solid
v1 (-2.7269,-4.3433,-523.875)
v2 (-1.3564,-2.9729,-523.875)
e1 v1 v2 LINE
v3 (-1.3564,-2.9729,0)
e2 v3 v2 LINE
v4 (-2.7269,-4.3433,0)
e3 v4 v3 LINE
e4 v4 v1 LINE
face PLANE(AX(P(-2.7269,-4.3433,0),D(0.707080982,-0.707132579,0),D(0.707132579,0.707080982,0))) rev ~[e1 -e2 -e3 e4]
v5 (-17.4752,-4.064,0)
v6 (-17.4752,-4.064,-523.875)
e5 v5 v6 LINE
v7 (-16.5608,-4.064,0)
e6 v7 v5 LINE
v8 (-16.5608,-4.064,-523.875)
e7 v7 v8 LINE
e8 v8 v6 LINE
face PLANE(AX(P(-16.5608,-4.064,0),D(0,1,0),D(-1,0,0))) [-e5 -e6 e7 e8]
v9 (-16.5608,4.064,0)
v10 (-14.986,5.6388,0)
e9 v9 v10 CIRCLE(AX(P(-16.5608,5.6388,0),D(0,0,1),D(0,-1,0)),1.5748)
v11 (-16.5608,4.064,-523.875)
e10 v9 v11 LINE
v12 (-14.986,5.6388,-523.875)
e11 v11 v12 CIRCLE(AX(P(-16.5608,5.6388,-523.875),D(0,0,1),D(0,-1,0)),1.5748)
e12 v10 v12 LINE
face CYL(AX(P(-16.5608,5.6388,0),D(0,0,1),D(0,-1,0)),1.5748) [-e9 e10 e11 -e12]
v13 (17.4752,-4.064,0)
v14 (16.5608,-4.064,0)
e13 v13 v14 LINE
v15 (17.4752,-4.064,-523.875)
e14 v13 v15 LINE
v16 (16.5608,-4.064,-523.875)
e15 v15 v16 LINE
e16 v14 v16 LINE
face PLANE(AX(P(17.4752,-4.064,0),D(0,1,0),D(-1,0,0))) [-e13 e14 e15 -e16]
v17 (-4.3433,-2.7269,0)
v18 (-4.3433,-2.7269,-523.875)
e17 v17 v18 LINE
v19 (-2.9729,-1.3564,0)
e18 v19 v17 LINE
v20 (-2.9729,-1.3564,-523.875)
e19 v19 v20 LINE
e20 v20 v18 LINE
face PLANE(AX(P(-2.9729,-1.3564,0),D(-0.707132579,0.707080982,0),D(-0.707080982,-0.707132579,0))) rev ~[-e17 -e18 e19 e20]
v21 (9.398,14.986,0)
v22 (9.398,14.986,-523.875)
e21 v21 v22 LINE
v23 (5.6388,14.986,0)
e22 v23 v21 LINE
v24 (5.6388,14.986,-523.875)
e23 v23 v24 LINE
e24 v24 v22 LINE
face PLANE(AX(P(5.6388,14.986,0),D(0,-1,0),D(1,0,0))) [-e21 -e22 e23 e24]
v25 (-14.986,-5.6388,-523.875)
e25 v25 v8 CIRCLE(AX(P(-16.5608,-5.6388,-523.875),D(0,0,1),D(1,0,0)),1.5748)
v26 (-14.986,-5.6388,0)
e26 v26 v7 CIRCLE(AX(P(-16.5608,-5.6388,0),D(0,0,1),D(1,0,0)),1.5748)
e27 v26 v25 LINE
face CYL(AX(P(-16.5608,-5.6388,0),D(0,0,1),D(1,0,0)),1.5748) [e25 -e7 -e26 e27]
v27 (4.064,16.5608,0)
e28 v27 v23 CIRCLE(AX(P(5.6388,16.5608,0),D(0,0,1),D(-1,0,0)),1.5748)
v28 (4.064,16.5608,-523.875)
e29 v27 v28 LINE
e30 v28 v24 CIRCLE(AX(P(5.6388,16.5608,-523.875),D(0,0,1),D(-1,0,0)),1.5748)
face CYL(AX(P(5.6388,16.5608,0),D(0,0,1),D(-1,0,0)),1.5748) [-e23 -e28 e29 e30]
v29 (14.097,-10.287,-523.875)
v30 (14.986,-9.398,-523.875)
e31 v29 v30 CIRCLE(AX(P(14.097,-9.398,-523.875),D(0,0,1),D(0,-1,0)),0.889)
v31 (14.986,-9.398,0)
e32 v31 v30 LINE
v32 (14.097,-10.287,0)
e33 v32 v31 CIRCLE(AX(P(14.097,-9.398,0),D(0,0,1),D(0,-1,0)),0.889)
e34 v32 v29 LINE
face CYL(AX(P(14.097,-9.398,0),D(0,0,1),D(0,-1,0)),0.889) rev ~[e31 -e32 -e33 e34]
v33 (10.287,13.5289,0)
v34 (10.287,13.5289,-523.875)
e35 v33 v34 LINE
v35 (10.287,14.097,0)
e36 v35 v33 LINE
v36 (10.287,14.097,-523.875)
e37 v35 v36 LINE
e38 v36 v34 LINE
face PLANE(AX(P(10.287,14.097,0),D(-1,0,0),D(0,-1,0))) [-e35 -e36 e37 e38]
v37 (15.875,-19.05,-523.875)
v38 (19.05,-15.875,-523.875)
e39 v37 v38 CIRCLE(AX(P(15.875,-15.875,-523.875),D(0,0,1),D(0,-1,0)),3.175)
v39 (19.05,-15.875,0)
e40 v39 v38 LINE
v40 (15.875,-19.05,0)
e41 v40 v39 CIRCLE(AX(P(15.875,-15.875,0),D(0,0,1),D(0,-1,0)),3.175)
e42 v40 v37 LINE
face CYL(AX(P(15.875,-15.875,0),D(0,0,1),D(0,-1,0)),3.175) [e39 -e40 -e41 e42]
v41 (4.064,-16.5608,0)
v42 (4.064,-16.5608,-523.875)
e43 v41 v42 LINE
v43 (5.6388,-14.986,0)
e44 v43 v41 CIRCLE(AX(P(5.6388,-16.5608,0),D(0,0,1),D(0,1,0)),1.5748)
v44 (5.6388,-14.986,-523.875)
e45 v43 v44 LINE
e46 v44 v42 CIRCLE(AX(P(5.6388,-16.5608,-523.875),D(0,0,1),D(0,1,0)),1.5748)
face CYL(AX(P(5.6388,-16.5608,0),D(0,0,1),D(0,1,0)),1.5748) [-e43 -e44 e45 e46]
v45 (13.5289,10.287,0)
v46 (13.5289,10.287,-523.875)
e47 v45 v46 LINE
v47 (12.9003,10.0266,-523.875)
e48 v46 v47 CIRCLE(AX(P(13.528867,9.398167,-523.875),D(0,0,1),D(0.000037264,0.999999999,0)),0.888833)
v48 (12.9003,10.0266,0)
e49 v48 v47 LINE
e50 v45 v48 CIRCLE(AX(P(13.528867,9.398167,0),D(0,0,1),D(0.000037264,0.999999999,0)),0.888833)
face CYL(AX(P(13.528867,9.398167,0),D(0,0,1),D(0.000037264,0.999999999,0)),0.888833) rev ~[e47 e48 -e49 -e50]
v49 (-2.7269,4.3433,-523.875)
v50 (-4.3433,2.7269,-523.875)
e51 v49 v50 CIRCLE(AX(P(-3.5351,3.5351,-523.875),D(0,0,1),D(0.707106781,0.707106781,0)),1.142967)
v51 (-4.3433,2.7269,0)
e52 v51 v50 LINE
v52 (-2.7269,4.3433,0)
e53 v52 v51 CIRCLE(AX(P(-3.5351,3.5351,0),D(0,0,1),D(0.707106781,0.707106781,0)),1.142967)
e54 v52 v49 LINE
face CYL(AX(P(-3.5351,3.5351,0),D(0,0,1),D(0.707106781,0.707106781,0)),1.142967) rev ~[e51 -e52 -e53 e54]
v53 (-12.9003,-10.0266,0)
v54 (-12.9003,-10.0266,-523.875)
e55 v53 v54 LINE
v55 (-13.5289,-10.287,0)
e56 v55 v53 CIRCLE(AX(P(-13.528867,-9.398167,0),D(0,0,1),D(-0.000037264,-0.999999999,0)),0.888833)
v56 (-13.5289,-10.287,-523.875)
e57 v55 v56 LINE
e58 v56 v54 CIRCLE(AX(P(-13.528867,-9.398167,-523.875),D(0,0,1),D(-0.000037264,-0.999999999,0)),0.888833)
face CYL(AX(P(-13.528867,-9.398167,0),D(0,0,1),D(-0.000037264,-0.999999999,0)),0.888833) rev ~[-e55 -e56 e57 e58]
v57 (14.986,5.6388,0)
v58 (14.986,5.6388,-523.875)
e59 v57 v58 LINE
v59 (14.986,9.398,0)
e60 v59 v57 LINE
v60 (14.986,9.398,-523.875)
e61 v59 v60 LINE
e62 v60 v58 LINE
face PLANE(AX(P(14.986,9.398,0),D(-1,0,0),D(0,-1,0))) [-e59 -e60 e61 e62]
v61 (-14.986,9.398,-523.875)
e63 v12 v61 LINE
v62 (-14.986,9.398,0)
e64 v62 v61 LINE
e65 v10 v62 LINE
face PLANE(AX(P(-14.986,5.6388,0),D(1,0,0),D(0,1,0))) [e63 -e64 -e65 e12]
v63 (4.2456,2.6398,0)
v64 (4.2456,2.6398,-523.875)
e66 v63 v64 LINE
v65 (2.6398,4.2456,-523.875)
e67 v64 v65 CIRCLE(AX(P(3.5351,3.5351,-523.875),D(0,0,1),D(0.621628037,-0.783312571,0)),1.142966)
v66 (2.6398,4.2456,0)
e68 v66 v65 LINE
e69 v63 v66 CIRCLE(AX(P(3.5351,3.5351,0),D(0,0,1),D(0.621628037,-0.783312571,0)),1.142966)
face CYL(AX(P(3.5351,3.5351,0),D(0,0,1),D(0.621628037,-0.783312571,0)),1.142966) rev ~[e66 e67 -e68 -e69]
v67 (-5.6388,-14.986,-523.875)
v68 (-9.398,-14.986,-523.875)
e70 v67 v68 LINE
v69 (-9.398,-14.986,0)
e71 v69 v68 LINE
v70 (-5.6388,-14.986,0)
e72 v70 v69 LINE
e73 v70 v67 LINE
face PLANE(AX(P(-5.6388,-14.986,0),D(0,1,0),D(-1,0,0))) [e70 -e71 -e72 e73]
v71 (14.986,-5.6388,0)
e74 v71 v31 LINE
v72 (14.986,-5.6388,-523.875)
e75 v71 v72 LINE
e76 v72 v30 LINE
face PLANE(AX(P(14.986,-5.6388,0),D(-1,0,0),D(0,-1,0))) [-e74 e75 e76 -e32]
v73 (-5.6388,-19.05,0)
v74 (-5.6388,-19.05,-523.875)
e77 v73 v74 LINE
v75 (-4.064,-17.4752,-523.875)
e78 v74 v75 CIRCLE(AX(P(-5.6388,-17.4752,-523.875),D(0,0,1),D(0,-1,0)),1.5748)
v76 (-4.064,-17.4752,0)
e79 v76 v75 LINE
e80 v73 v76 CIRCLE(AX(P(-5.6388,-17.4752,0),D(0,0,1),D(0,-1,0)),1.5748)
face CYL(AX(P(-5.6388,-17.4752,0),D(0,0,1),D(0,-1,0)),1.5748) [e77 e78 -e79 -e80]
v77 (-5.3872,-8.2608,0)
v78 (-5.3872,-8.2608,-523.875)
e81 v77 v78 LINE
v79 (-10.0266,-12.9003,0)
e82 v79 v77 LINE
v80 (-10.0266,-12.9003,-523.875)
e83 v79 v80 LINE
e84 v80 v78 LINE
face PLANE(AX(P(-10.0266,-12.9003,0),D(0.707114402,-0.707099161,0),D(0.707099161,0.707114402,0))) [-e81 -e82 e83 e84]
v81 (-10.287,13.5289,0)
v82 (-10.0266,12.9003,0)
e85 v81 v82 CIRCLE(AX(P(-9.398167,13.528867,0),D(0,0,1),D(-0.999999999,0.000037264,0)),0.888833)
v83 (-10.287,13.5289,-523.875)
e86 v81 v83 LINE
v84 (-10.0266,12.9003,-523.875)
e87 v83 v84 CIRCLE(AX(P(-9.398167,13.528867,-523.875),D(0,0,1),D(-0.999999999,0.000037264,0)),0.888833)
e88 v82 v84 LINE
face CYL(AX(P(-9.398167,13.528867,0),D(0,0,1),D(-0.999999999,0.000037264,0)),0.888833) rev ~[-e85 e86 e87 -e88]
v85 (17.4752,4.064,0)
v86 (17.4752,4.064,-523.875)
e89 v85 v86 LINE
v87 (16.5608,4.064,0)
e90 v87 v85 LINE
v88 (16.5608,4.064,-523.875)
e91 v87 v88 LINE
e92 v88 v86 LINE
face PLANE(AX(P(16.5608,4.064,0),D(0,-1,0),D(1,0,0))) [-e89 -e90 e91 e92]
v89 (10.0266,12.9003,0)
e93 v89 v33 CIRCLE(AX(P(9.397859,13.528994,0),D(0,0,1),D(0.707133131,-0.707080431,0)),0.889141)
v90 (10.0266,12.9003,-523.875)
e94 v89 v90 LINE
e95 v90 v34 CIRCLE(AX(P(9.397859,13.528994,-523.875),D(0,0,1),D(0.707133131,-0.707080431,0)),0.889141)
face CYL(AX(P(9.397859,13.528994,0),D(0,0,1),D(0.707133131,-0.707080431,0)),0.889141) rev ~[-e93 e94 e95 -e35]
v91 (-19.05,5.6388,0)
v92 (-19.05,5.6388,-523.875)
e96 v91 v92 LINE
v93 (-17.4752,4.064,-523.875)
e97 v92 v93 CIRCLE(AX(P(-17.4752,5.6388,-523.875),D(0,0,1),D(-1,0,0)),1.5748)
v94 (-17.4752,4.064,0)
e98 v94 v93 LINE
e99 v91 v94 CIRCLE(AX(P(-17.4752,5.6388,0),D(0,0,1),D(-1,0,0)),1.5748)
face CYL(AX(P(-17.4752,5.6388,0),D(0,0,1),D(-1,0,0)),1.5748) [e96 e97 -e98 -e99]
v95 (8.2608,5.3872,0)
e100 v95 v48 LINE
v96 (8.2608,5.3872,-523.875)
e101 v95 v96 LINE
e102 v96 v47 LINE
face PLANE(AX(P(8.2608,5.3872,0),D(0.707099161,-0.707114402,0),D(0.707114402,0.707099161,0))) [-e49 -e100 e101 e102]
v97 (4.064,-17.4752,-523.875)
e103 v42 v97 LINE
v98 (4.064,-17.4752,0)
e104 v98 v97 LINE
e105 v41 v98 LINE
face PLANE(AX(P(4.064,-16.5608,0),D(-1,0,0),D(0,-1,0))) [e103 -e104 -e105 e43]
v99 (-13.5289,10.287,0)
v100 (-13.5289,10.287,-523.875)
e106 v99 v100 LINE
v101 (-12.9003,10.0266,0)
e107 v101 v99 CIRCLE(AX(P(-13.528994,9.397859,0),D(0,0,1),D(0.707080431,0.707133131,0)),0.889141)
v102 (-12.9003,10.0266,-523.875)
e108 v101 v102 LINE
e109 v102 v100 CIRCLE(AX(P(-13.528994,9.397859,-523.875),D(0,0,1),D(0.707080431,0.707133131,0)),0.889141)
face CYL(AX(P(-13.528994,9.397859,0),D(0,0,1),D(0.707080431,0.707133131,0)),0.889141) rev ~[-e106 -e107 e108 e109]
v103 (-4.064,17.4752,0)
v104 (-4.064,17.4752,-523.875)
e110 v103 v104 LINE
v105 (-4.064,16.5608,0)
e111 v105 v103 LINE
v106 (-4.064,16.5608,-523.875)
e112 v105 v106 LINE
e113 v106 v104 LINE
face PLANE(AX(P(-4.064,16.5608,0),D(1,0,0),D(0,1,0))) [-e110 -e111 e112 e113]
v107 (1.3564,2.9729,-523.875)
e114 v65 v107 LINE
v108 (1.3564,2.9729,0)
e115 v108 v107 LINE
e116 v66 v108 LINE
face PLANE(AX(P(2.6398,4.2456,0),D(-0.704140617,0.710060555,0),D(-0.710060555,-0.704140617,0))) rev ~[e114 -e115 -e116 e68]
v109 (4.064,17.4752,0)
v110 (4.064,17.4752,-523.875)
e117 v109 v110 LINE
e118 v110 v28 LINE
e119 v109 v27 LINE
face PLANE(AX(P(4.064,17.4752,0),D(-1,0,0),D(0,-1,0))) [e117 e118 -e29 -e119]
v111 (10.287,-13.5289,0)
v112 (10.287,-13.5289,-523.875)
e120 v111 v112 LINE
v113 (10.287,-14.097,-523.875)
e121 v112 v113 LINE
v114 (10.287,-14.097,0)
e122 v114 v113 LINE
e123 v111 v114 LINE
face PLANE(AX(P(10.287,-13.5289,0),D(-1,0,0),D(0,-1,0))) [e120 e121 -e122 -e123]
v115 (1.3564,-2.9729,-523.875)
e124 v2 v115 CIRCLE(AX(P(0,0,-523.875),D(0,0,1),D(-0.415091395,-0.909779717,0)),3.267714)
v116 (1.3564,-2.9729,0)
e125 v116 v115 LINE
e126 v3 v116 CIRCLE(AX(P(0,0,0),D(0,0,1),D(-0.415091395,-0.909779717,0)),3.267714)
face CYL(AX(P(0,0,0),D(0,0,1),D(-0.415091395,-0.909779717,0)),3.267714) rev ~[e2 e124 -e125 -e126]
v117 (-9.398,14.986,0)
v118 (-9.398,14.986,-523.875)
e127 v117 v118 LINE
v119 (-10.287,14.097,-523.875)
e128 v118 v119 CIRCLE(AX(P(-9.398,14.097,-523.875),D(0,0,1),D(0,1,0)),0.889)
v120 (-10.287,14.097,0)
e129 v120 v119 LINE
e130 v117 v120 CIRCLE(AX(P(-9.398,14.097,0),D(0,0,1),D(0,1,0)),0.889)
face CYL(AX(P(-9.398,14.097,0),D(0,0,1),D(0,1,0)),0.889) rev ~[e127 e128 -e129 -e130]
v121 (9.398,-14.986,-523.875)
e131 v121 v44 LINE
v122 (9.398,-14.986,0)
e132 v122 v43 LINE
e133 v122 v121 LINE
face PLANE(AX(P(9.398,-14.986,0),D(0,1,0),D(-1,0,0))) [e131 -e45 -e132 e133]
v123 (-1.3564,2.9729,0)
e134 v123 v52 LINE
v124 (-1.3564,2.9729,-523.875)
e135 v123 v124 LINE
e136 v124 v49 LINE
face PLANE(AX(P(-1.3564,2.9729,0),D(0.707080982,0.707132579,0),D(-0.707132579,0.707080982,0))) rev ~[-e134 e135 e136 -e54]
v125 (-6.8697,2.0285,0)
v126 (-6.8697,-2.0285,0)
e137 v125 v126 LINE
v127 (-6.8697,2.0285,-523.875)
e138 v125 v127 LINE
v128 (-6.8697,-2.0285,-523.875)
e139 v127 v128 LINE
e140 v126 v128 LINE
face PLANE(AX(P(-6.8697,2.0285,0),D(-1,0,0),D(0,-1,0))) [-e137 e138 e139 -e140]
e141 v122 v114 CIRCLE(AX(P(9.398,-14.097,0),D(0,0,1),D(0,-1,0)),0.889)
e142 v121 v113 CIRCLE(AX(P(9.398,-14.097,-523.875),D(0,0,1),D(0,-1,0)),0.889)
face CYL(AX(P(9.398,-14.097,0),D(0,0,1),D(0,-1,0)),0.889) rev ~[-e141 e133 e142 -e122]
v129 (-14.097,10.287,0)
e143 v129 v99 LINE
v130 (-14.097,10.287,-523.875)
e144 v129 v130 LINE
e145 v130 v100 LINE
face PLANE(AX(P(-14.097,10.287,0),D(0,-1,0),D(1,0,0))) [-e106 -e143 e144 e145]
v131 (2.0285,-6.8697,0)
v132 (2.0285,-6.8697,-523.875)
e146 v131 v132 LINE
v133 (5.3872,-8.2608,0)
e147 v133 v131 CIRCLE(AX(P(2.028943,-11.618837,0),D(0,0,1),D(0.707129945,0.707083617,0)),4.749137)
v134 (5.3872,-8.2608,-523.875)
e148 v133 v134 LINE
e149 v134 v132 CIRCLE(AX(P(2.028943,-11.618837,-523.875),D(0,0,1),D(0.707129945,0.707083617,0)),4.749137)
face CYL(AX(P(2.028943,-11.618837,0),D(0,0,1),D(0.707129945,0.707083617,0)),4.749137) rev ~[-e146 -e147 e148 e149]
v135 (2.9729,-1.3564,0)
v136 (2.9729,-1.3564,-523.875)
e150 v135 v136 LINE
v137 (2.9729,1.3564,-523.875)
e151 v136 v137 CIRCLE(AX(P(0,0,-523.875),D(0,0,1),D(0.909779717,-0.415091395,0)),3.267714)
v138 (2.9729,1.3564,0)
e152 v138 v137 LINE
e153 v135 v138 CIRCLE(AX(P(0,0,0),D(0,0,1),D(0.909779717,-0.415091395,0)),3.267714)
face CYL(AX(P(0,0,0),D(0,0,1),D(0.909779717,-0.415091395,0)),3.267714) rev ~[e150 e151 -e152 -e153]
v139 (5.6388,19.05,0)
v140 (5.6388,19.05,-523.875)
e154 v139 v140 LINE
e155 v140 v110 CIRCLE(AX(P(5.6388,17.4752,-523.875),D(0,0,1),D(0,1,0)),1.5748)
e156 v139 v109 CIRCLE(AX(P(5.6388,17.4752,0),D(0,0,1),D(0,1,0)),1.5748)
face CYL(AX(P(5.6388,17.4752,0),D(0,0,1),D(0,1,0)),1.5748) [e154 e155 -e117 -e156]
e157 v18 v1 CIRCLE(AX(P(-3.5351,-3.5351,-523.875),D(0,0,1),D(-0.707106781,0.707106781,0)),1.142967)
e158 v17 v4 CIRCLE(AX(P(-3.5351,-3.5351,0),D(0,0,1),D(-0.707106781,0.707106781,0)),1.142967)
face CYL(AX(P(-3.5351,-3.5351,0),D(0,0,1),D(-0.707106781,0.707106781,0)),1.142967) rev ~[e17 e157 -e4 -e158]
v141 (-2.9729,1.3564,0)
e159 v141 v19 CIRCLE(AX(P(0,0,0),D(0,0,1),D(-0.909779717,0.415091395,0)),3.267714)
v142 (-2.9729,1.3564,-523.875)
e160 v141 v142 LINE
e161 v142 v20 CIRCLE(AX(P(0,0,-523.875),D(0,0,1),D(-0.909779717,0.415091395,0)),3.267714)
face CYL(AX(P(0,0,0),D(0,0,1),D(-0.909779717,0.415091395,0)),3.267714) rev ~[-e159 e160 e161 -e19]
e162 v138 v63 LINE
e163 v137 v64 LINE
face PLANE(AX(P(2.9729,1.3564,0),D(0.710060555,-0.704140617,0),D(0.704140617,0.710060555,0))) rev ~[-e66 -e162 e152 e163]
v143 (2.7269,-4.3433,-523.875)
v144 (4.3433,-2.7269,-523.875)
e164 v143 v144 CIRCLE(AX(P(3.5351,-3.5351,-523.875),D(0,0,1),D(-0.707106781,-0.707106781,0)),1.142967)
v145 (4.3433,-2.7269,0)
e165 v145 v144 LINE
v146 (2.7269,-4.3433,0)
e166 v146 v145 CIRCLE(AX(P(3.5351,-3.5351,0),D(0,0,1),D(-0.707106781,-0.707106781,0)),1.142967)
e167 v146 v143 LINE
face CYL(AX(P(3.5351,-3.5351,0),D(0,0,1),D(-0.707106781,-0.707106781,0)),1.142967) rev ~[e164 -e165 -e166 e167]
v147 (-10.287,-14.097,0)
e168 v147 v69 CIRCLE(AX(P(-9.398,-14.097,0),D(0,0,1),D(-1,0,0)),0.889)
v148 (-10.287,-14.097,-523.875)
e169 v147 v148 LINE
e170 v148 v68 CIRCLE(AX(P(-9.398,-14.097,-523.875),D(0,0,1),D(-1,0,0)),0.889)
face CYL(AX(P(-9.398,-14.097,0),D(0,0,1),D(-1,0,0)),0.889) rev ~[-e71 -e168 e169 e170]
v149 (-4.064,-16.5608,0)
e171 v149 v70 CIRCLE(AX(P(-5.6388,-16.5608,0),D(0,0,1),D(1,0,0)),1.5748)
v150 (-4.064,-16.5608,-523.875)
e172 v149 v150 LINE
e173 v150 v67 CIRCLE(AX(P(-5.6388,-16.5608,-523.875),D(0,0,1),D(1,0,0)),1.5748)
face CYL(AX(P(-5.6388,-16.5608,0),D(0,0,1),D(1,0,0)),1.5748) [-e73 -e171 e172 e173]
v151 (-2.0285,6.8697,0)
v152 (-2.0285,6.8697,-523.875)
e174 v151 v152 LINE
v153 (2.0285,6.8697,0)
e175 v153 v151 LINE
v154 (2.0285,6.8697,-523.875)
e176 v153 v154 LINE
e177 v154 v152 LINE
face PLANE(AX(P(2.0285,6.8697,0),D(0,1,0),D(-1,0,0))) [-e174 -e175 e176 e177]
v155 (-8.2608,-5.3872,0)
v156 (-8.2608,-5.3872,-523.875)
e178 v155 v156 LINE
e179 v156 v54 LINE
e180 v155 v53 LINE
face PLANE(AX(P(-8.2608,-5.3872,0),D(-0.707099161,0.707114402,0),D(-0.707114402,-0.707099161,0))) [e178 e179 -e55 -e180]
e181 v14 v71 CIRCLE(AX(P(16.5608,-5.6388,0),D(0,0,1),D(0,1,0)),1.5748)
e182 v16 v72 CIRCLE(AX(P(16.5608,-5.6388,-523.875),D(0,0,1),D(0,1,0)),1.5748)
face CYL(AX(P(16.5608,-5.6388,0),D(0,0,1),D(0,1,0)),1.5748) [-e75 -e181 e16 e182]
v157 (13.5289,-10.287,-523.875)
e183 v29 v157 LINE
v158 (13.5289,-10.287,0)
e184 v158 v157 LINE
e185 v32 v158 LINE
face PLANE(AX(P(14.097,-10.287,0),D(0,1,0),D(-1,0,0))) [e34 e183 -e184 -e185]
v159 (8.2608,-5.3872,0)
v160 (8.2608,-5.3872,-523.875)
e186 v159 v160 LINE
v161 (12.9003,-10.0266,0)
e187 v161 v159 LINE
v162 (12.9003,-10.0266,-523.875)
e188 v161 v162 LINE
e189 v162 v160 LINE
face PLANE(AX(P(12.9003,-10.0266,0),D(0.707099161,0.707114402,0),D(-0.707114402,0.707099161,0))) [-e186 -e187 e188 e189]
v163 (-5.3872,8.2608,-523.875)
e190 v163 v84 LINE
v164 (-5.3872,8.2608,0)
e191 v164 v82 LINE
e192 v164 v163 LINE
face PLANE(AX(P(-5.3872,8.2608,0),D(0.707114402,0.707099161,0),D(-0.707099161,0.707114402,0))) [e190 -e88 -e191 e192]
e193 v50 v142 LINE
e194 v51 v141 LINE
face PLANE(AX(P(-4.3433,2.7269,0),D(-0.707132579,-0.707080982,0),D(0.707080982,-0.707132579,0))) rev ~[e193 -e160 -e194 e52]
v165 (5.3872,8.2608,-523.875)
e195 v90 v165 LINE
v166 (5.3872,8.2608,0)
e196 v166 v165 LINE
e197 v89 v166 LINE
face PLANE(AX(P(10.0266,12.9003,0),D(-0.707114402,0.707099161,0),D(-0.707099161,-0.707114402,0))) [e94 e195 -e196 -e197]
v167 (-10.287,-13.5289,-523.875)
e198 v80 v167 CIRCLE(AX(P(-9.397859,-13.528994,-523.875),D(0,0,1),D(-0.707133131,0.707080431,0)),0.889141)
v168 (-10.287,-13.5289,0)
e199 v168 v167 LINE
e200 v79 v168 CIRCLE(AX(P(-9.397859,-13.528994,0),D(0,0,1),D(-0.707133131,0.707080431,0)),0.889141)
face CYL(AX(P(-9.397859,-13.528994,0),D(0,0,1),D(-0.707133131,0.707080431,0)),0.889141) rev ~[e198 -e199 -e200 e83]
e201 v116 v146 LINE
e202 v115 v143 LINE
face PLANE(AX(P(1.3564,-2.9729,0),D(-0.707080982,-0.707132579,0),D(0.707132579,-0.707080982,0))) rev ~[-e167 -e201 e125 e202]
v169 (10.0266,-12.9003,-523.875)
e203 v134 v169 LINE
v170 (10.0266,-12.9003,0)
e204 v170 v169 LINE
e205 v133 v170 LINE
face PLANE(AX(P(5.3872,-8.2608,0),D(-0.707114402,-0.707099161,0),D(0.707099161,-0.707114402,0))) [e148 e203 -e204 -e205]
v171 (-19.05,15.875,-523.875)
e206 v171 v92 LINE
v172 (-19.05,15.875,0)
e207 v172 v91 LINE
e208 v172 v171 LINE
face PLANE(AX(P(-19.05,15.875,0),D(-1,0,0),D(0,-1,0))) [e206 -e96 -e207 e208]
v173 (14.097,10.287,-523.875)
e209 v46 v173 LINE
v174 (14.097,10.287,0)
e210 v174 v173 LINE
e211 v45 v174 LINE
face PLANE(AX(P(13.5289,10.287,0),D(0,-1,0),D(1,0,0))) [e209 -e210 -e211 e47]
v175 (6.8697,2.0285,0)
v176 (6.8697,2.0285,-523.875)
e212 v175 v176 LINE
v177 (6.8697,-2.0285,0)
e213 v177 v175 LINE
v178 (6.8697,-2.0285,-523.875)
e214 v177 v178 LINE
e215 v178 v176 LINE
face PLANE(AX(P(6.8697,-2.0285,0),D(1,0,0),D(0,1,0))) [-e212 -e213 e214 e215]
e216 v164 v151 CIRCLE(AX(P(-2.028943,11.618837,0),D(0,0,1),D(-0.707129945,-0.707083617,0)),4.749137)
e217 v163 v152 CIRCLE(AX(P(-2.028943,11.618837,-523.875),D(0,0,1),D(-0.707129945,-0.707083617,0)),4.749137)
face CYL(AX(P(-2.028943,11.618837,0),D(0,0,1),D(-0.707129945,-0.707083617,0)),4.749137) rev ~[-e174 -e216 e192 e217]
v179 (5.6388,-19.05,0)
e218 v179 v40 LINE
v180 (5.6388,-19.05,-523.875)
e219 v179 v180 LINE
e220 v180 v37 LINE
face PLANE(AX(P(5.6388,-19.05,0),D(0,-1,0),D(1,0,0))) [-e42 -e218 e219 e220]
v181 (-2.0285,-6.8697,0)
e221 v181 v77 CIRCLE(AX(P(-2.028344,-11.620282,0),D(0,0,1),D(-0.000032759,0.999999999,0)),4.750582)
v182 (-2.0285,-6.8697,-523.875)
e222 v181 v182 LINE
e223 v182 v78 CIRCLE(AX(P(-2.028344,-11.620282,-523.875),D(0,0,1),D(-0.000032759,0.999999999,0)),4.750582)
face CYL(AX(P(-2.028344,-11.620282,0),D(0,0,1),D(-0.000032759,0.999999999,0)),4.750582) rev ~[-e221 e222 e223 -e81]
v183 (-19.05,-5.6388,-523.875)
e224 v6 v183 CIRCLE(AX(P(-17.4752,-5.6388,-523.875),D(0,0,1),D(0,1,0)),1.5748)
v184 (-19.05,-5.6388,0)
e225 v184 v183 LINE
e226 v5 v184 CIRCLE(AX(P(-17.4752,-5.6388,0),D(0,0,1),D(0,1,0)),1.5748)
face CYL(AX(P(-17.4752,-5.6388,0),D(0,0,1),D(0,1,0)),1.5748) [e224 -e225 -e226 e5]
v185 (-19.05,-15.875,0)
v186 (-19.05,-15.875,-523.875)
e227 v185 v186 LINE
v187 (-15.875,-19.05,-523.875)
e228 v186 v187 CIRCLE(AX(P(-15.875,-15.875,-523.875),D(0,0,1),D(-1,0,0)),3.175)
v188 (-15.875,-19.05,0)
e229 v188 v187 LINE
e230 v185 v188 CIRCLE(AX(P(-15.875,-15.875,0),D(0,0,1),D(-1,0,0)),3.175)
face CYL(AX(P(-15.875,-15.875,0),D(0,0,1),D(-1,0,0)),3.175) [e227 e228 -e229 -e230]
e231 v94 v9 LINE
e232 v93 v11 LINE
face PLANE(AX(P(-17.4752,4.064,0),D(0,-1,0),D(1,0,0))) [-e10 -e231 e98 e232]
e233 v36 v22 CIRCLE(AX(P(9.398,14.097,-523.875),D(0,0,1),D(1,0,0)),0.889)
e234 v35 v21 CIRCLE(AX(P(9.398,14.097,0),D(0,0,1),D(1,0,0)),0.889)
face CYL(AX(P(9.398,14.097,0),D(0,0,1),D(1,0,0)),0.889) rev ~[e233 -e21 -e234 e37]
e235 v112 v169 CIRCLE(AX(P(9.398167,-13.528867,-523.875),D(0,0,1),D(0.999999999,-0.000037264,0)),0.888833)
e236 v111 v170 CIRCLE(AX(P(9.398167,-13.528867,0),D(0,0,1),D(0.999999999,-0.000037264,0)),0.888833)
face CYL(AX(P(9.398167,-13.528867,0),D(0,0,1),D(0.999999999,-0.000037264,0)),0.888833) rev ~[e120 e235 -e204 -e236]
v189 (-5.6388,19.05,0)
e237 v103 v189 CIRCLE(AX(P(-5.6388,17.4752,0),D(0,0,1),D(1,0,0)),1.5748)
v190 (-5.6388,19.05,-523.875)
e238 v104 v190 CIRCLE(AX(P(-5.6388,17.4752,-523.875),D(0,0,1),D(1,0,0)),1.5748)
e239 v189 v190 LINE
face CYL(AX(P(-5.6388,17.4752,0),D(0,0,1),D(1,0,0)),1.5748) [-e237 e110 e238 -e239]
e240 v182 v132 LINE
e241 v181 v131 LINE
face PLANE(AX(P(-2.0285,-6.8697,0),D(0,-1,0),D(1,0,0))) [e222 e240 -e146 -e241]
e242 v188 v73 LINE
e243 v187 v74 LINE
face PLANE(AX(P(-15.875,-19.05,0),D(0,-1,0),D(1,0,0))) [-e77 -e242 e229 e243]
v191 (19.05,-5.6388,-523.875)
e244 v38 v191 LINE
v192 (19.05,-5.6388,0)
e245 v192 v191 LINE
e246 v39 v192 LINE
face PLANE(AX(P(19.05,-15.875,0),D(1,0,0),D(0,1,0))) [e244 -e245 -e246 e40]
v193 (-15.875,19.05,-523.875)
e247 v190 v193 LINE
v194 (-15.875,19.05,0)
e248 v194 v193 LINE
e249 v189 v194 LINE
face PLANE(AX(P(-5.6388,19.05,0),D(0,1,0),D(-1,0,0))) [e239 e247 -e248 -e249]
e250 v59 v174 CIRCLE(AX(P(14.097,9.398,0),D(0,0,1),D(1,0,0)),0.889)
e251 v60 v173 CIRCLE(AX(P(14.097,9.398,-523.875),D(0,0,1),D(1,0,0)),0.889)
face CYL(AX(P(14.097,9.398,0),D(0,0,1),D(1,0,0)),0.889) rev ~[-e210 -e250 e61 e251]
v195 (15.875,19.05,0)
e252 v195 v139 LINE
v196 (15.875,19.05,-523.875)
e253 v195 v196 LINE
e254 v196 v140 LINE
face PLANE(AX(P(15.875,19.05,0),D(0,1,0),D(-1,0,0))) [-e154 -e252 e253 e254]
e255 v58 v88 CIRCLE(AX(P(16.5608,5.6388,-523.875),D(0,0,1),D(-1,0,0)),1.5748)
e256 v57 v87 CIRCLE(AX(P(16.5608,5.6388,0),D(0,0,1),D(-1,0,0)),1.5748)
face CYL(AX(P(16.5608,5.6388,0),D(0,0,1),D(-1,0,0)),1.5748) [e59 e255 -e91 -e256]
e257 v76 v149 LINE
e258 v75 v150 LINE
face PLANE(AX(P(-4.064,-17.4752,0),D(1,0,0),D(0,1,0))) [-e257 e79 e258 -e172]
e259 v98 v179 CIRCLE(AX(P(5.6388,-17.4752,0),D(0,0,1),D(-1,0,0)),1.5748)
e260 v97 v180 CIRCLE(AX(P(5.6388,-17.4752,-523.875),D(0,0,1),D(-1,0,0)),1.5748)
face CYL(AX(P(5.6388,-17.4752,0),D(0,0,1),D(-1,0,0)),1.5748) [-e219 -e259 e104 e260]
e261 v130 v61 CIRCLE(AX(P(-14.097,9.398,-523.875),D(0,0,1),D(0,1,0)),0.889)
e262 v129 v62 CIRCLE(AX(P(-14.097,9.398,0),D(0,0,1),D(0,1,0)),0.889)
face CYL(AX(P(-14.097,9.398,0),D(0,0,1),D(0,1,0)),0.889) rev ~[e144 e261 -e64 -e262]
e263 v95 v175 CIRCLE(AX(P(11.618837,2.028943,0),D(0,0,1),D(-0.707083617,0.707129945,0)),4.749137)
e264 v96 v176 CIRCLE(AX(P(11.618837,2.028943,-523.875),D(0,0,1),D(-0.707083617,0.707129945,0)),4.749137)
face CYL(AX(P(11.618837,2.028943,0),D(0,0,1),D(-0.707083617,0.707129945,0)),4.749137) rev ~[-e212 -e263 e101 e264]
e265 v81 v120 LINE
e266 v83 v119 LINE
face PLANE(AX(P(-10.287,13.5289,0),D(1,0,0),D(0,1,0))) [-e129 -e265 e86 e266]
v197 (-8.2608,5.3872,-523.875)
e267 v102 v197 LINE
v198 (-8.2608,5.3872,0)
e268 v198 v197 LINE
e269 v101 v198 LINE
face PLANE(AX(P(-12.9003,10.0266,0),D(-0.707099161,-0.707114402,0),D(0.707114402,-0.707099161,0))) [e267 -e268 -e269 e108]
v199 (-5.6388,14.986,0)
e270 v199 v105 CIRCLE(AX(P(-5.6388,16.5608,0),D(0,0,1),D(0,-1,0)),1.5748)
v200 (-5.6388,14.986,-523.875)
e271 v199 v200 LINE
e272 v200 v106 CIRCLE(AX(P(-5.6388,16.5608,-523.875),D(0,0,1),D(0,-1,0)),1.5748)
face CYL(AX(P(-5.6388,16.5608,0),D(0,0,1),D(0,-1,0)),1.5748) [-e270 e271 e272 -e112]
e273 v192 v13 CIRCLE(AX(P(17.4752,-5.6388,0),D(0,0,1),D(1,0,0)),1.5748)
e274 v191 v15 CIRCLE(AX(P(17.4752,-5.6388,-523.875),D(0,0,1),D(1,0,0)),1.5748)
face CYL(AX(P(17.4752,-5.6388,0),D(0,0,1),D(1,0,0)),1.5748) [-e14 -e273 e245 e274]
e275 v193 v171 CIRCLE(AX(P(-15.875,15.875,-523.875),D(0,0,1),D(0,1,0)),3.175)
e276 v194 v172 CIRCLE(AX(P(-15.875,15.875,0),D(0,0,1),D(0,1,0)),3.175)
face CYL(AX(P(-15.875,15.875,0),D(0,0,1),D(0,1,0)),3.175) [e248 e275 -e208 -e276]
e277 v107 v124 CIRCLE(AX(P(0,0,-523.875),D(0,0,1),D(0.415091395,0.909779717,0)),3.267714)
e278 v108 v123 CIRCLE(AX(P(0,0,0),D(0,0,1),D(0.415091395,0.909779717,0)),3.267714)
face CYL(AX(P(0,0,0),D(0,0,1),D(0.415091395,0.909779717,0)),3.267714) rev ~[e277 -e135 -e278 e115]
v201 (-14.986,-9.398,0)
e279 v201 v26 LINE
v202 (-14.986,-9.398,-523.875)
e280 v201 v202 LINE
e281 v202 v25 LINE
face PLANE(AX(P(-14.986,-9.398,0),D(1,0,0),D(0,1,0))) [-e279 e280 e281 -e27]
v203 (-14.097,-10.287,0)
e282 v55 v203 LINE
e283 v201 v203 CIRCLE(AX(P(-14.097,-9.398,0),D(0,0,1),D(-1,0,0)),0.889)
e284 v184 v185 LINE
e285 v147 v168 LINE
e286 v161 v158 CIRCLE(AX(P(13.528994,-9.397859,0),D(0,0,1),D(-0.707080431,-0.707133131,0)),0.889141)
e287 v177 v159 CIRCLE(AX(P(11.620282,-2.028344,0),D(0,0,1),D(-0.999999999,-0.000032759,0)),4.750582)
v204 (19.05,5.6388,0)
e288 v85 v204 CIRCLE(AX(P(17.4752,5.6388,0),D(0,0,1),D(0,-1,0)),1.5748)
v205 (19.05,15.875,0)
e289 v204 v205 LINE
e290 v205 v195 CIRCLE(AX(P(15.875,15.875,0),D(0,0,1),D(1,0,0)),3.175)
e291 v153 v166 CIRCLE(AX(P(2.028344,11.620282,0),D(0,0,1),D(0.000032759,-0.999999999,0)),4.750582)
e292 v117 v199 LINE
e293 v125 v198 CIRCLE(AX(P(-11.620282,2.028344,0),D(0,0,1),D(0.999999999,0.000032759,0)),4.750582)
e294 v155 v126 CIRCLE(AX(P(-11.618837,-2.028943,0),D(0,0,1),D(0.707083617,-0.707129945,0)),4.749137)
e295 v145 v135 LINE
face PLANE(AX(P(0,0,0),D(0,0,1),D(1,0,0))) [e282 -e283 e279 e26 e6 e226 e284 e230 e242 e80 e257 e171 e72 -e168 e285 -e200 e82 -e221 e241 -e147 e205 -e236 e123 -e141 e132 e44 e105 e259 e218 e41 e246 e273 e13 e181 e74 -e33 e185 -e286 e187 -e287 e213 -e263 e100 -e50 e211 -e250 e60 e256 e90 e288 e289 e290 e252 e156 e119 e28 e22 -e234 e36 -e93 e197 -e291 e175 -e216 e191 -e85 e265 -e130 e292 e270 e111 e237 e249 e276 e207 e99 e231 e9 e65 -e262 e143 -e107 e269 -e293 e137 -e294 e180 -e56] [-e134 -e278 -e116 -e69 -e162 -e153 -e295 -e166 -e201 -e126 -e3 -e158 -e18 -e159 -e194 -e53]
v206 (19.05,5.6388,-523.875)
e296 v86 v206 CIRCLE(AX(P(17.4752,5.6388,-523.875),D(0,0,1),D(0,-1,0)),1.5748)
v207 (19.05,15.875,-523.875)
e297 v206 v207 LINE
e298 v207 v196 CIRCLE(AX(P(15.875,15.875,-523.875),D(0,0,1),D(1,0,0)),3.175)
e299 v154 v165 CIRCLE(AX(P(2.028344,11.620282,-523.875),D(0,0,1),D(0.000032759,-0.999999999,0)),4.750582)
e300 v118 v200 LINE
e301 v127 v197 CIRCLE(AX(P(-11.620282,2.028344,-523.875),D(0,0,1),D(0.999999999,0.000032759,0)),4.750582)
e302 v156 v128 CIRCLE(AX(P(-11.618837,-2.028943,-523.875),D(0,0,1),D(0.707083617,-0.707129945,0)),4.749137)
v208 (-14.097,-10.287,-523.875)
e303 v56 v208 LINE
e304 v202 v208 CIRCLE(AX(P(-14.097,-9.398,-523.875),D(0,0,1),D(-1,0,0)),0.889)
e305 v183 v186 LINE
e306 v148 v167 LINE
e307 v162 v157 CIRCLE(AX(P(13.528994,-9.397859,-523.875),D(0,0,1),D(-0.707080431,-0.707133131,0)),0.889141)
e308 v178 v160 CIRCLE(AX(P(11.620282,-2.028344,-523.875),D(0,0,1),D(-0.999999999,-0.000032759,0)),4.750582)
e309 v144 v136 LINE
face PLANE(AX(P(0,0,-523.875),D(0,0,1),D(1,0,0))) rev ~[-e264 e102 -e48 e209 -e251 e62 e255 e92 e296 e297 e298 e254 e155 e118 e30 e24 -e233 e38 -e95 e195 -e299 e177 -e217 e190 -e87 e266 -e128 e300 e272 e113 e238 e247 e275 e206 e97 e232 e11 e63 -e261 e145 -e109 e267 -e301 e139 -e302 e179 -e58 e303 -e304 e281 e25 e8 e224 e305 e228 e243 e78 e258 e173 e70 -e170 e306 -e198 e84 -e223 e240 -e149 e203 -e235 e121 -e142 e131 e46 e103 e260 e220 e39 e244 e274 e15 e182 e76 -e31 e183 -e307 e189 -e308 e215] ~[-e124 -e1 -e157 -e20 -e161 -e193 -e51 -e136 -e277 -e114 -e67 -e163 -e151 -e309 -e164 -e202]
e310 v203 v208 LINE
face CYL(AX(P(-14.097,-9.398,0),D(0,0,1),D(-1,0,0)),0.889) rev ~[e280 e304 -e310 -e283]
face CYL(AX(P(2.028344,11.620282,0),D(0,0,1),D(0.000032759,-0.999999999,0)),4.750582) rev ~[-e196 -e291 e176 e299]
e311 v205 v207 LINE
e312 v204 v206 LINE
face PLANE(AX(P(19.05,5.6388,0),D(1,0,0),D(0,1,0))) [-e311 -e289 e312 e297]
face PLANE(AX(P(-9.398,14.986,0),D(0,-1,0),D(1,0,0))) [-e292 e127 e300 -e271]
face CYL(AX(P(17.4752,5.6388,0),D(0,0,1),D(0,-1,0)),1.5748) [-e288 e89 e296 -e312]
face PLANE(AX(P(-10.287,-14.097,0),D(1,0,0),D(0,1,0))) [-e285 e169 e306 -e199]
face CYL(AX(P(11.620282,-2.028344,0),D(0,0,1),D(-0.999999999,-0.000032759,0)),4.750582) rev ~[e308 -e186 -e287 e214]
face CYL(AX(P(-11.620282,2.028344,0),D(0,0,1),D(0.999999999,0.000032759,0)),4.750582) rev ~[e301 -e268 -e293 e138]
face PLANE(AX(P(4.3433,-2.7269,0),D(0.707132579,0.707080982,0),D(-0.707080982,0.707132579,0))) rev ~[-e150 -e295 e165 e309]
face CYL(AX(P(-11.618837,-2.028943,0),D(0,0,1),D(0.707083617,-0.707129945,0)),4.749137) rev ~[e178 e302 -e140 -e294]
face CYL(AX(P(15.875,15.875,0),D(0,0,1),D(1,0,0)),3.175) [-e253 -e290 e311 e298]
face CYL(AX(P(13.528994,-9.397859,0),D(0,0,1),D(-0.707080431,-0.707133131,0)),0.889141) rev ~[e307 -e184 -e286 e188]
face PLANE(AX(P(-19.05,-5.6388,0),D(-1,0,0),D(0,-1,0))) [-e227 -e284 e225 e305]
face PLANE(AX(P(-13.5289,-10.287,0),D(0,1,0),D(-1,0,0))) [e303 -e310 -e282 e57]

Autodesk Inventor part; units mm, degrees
ref_plane "YZ Plane" through (0, 0, 0) normal (1, 0, 0) x (0, 1, 0)
ref_plane "XZ Plane" through (0, 0, 0) normal (0, 1, 0) x (-1, 0, 0)
ref_plane "Work Plane1" through (-293.8098, -15.875, -838.2) normal (0, 0, 1) x (1, 0, 0)
sketch "Sketch1" plane through (0, 0, 0) normal (0, 0, 1) x (1, 0, 0)
  arc A0 (4.2456, 2.6398) -> (2.6398, 4.2456) centre (3.5351, 3.5351) ccw
  line L0 (2.9729, 1.3564) -> (4.2456, 2.6398)
  arc A1 (2.9729, -1.3564) -> (2.9729, 1.3564) centre (0, 0) ccw
  line L1 (4.3433, -2.7269) -> (2.9729, -1.3564)
  arc A2 (2.7269, -4.3433) -> (4.3433, -2.7269) centre (3.5351, -3.5351) ccw
  line L2 (1.3564, -2.9729) -> (2.7269, -4.3433)
  arc A3 (-1.3564, -2.9729) -> (1.3564, -2.9729) centre (0, 0) ccw
  line L3 (-2.7269, -4.3433) -> (-1.3564, -2.9729)
  arc A4 (-4.3433, -2.7269) -> (-2.7269, -4.3433) centre (-3.5351, -3.5351) ccw
  line L4 (-2.9729, -1.3564) -> (-4.3433, -2.7269)
  arc A5 (-2.9729, 1.3564) -> (-2.9729, -1.3564) centre (0, 0) ccw
  line L5 (-4.3433, 2.7269) -> (-2.9729, 1.3564)
  arc A6 (-2.7269, 4.3433) -> (-4.3433, 2.7269) centre (-3.5351, 3.5351) ccw
  line L6 (-1.3564, 2.9729) -> (-2.7269, 4.3433)
  arc A7 (1.3564, 2.9729) -> (-1.3564, 2.9729) centre (0, 0) ccw
  line L7 (2.6398, 4.2456) -> (1.3564, 2.9729)
  arc A8 (16.5608, -4.064) -> (14.986, -5.6388) centre (16.5608, -5.6388) ccw
  line L8 (14.986, -5.6388) -> (14.986, -9.398)
  arc A9 (14.097, -10.287) -> (14.986, -9.398) centre (14.097, -9.398) ccw
  line L9 (14.097, -10.287) -> (13.5289, -10.287)
  arc A10 (12.9003, -10.0266) -> (13.5289, -10.287) centre (13.5289, -9.398) ccw
  line L10 (12.9003, -10.0266) -> (8.2608, -5.3872)
  arc A11 (6.8697, -2.0285) -> (8.2608, -5.3872) centre (11.6195, -2.0285) ccw
  line L11 (6.8697, -2.0285) -> (6.8697, 2.0285)
  arc A12 (8.2608, 5.3872) -> (6.8697, 2.0285) centre (11.6195, 2.0285) ccw
  line L12 (8.2608, 5.3872) -> (12.9003, 10.0266)
  arc A13 (13.5289, 10.287) -> (12.9003, 10.0266) centre (13.5289, 9.398) ccw
  line L13 (13.5289, 10.287) -> (14.097, 10.287)
  arc A14 (14.986, 9.398) -> (14.097, 10.287) centre (14.097, 9.398) ccw
  line L14 (14.986, 9.398) -> (14.986, 5.6388)
  arc A15 (14.986, 5.6388) -> (16.5608, 4.064) centre (16.5608, 5.6388) ccw
  line L15 (16.5608, 4.064) -> (17.4752, 4.064)
  arc A16 (17.4752, 4.064) -> (19.05, 5.6388) centre (17.4752, 5.6388) ccw
  line L16 (19.05, 5.6388) -> (19.05, 15.875)
  arc A17 (19.05, 15.875) -> (15.875, 19.05) centre (15.875, 15.875) ccw
  line L17 (15.875, 19.05) -> (5.6388, 19.05)
  arc A18 (5.6388, 19.05) -> (4.064, 17.4752) centre (5.6388, 17.4752) ccw
  line L18 (4.064, 17.4752) -> (4.064, 16.5608)
  arc A19 (4.064, 16.5608) -> (5.6388, 14.986) centre (5.6388, 16.5608) ccw
  line L19 (5.6388, 14.986) -> (9.398, 14.986)
  arc A20 (10.287, 14.097) -> (9.398, 14.986) centre (9.398, 14.097) ccw
  line L20 (10.287, 14.097) -> (10.287, 13.5289)
  arc A21 (10.0266, 12.9003) -> (10.287, 13.5289) centre (9.398, 13.5289) ccw
  line L21 (10.0266, 12.9003) -> (5.3872, 8.2608)
  arc A22 (2.0285, 6.8697) -> (5.3872, 8.2608) centre (2.0285, 11.6195) ccw
  line L22 (2.0285, 6.8697) -> (-2.0285, 6.8697)
  arc A23 (-5.3872, 8.2608) -> (-2.0285, 6.8697) centre (-2.0285, 11.6195) ccw
  line L23 (-5.3872, 8.2608) -> (-10.0266, 12.9003)
  arc A24 (-10.287, 13.5289) -> (-10.0266, 12.9003) centre (-9.398, 13.5289) ccw
  line L24 (-10.287, 13.5289) -> (-10.287, 14.097)
  arc A25 (-9.398, 14.986) -> (-10.287, 14.097) centre (-9.398, 14.097) ccw
  line L25 (-9.398, 14.986) -> (-5.6388, 14.986)
  arc A26 (-5.6388, 14.986) -> (-4.064, 16.5608) centre (-5.6388, 16.5608) ccw
  line L26 (-4.064, 16.5608) -> (-4.064, 17.4752)
  arc A27 (-4.064, 17.4752) -> (-5.6388, 19.05) centre (-5.6388, 17.4752) ccw
  line L27 (-5.6388, 19.05) -> (-15.875, 19.05)
  arc A28 (-15.875, 19.05) -> (-19.05, 15.875) centre (-15.875, 15.875) ccw
  line L28 (-19.05, 15.875) -> (-19.05, 5.6388)
  arc A29 (-19.05, 5.6388) -> (-17.4752, 4.064) centre (-17.4752, 5.6388) ccw
  line L29 (-17.4752, 4.064) -> (-16.5608, 4.064)
  arc A30 (-16.5608, 4.064) -> (-14.986, 5.6388) centre (-16.5608, 5.6388) ccw
  line L30 (-14.986, 5.6388) -> (-14.986, 9.398)
  arc A31 (-14.097, 10.287) -> (-14.986, 9.398) centre (-14.097, 9.398) ccw
  line L31 (-14.097, 10.287) -> (-13.5289, 10.287)
  arc A32 (-12.9003, 10.0266) -> (-13.5289, 10.287) centre (-13.5289, 9.398) ccw
  line L32 (-12.9003, 10.0266) -> (-8.2608, 5.3872)
  arc A33 (-6.8697, 2.0285) -> (-8.2608, 5.3872) centre (-11.6195, 2.0285) ccw
  line L33 (-6.8697, 2.0285) -> (-6.8697, -2.0285)
  arc A34 (-8.2608, -5.3872) -> (-6.8697, -2.0285) centre (-11.6195, -2.0285) ccw
  line L34 (-8.2608, -5.3872) -> (-12.9003, -10.0266)
  arc A35 (-13.5289, -10.287) -> (-12.9003, -10.0266) centre (-13.5289, -9.398) ccw
  line L35 (-13.5289, -10.287) -> (-14.097, -10.287)
  arc A36 (-14.986, -9.398) -> (-14.097, -10.287) centre (-14.097, -9.398) ccw
  line L36 (-14.986, -9.398) -> (-14.986, -5.6388)
  arc A37 (-14.986, -5.6388) -> (-16.5608, -4.064) centre (-16.5608, -5.6388) ccw
  line L37 (-16.5608, -4.064) -> (-17.4752, -4.064)
  arc A38 (-17.4752, -4.064) -> (-19.05, -5.6388) centre (-17.4752, -5.6388) ccw
  line L38 (-19.05, -5.6388) -> (-19.05, -15.875)
  arc A39 (-19.05, -15.875) -> (-15.875, -19.05) centre (-15.875, -15.875) ccw
  line L39 (-15.875, -19.05) -> (-5.6388, -19.05)
  arc A40 (-5.6388, -19.05) -> (-4.064, -17.4752) centre (-5.6388, -17.4752) ccw
  line L40 (-4.064, -17.4752) -> (-4.064, -16.5608)
  arc A41 (-4.064, -16.5608) -> (-5.6388, -14.986) centre (-5.6388, -16.5608) ccw
  line L41 (-5.6388, -14.986) -> (-9.398, -14.986)
  arc A42 (-10.287, -14.097) -> (-9.398, -14.986) centre (-9.398, -14.097) ccw
  line L42 (-10.287, -14.097) -> (-10.287, -13.5289)
  arc A43 (-10.0266, -12.9003) -> (-10.287, -13.5289) centre (-9.398, -13.5289) ccw
  line L43 (-10.0266, -12.9003) -> (-5.3872, -8.2608)
  arc A44 (-2.0285, -6.8697) -> (-5.3872, -8.2608) centre (-2.0285, -11.6195) ccw
  line L44 (-2.0285, -6.8697) -> (2.0285, -6.8697)
  arc A45 (5.3872, -8.2608) -> (2.0285, -6.8697) centre (2.0285, -11.6195) ccw
  line L45 (5.3872, -8.2608) -> (10.0266, -12.9003)
  arc A46 (10.287, -13.5289) -> (10.0266, -12.9003) centre (9.398, -13.5289) ccw
  line L46 (10.287, -13.5289) -> (10.287, -14.097)
  arc A47 (9.398, -14.986) -> (10.287, -14.097) centre (9.398, -14.097) ccw
  line L47 (9.398, -14.986) -> (5.6388, -14.986)
  arc A48 (5.6388, -14.986) -> (4.064, -16.5608) centre (5.6388, -16.5608) ccw
  line L48 (4.064, -16.5608) -> (4.064, -17.4752)
  arc A49 (4.064, -17.4752) -> (5.6388, -19.05) centre (5.6388, -17.4752) ccw
  line L49 (5.6388, -19.05) -> (15.875, -19.05)
  arc A50 (15.875, -19.05) -> (19.05, -15.875) centre (15.875, -15.875) ccw
  line L50 (19.05, -15.875) -> (19.05, -5.6388)
  arc A51 (19.05, -5.6388) -> (17.4752, -4.064) centre (17.4752, -5.6388) ccw
  line L51 (17.4752, -4.064) -> (16.5608, -4.064)
extrude "Extrusion1" add sketch "Sketch1" against normal blind 523.875
properties part number "1515-S" material "Aluminum"
